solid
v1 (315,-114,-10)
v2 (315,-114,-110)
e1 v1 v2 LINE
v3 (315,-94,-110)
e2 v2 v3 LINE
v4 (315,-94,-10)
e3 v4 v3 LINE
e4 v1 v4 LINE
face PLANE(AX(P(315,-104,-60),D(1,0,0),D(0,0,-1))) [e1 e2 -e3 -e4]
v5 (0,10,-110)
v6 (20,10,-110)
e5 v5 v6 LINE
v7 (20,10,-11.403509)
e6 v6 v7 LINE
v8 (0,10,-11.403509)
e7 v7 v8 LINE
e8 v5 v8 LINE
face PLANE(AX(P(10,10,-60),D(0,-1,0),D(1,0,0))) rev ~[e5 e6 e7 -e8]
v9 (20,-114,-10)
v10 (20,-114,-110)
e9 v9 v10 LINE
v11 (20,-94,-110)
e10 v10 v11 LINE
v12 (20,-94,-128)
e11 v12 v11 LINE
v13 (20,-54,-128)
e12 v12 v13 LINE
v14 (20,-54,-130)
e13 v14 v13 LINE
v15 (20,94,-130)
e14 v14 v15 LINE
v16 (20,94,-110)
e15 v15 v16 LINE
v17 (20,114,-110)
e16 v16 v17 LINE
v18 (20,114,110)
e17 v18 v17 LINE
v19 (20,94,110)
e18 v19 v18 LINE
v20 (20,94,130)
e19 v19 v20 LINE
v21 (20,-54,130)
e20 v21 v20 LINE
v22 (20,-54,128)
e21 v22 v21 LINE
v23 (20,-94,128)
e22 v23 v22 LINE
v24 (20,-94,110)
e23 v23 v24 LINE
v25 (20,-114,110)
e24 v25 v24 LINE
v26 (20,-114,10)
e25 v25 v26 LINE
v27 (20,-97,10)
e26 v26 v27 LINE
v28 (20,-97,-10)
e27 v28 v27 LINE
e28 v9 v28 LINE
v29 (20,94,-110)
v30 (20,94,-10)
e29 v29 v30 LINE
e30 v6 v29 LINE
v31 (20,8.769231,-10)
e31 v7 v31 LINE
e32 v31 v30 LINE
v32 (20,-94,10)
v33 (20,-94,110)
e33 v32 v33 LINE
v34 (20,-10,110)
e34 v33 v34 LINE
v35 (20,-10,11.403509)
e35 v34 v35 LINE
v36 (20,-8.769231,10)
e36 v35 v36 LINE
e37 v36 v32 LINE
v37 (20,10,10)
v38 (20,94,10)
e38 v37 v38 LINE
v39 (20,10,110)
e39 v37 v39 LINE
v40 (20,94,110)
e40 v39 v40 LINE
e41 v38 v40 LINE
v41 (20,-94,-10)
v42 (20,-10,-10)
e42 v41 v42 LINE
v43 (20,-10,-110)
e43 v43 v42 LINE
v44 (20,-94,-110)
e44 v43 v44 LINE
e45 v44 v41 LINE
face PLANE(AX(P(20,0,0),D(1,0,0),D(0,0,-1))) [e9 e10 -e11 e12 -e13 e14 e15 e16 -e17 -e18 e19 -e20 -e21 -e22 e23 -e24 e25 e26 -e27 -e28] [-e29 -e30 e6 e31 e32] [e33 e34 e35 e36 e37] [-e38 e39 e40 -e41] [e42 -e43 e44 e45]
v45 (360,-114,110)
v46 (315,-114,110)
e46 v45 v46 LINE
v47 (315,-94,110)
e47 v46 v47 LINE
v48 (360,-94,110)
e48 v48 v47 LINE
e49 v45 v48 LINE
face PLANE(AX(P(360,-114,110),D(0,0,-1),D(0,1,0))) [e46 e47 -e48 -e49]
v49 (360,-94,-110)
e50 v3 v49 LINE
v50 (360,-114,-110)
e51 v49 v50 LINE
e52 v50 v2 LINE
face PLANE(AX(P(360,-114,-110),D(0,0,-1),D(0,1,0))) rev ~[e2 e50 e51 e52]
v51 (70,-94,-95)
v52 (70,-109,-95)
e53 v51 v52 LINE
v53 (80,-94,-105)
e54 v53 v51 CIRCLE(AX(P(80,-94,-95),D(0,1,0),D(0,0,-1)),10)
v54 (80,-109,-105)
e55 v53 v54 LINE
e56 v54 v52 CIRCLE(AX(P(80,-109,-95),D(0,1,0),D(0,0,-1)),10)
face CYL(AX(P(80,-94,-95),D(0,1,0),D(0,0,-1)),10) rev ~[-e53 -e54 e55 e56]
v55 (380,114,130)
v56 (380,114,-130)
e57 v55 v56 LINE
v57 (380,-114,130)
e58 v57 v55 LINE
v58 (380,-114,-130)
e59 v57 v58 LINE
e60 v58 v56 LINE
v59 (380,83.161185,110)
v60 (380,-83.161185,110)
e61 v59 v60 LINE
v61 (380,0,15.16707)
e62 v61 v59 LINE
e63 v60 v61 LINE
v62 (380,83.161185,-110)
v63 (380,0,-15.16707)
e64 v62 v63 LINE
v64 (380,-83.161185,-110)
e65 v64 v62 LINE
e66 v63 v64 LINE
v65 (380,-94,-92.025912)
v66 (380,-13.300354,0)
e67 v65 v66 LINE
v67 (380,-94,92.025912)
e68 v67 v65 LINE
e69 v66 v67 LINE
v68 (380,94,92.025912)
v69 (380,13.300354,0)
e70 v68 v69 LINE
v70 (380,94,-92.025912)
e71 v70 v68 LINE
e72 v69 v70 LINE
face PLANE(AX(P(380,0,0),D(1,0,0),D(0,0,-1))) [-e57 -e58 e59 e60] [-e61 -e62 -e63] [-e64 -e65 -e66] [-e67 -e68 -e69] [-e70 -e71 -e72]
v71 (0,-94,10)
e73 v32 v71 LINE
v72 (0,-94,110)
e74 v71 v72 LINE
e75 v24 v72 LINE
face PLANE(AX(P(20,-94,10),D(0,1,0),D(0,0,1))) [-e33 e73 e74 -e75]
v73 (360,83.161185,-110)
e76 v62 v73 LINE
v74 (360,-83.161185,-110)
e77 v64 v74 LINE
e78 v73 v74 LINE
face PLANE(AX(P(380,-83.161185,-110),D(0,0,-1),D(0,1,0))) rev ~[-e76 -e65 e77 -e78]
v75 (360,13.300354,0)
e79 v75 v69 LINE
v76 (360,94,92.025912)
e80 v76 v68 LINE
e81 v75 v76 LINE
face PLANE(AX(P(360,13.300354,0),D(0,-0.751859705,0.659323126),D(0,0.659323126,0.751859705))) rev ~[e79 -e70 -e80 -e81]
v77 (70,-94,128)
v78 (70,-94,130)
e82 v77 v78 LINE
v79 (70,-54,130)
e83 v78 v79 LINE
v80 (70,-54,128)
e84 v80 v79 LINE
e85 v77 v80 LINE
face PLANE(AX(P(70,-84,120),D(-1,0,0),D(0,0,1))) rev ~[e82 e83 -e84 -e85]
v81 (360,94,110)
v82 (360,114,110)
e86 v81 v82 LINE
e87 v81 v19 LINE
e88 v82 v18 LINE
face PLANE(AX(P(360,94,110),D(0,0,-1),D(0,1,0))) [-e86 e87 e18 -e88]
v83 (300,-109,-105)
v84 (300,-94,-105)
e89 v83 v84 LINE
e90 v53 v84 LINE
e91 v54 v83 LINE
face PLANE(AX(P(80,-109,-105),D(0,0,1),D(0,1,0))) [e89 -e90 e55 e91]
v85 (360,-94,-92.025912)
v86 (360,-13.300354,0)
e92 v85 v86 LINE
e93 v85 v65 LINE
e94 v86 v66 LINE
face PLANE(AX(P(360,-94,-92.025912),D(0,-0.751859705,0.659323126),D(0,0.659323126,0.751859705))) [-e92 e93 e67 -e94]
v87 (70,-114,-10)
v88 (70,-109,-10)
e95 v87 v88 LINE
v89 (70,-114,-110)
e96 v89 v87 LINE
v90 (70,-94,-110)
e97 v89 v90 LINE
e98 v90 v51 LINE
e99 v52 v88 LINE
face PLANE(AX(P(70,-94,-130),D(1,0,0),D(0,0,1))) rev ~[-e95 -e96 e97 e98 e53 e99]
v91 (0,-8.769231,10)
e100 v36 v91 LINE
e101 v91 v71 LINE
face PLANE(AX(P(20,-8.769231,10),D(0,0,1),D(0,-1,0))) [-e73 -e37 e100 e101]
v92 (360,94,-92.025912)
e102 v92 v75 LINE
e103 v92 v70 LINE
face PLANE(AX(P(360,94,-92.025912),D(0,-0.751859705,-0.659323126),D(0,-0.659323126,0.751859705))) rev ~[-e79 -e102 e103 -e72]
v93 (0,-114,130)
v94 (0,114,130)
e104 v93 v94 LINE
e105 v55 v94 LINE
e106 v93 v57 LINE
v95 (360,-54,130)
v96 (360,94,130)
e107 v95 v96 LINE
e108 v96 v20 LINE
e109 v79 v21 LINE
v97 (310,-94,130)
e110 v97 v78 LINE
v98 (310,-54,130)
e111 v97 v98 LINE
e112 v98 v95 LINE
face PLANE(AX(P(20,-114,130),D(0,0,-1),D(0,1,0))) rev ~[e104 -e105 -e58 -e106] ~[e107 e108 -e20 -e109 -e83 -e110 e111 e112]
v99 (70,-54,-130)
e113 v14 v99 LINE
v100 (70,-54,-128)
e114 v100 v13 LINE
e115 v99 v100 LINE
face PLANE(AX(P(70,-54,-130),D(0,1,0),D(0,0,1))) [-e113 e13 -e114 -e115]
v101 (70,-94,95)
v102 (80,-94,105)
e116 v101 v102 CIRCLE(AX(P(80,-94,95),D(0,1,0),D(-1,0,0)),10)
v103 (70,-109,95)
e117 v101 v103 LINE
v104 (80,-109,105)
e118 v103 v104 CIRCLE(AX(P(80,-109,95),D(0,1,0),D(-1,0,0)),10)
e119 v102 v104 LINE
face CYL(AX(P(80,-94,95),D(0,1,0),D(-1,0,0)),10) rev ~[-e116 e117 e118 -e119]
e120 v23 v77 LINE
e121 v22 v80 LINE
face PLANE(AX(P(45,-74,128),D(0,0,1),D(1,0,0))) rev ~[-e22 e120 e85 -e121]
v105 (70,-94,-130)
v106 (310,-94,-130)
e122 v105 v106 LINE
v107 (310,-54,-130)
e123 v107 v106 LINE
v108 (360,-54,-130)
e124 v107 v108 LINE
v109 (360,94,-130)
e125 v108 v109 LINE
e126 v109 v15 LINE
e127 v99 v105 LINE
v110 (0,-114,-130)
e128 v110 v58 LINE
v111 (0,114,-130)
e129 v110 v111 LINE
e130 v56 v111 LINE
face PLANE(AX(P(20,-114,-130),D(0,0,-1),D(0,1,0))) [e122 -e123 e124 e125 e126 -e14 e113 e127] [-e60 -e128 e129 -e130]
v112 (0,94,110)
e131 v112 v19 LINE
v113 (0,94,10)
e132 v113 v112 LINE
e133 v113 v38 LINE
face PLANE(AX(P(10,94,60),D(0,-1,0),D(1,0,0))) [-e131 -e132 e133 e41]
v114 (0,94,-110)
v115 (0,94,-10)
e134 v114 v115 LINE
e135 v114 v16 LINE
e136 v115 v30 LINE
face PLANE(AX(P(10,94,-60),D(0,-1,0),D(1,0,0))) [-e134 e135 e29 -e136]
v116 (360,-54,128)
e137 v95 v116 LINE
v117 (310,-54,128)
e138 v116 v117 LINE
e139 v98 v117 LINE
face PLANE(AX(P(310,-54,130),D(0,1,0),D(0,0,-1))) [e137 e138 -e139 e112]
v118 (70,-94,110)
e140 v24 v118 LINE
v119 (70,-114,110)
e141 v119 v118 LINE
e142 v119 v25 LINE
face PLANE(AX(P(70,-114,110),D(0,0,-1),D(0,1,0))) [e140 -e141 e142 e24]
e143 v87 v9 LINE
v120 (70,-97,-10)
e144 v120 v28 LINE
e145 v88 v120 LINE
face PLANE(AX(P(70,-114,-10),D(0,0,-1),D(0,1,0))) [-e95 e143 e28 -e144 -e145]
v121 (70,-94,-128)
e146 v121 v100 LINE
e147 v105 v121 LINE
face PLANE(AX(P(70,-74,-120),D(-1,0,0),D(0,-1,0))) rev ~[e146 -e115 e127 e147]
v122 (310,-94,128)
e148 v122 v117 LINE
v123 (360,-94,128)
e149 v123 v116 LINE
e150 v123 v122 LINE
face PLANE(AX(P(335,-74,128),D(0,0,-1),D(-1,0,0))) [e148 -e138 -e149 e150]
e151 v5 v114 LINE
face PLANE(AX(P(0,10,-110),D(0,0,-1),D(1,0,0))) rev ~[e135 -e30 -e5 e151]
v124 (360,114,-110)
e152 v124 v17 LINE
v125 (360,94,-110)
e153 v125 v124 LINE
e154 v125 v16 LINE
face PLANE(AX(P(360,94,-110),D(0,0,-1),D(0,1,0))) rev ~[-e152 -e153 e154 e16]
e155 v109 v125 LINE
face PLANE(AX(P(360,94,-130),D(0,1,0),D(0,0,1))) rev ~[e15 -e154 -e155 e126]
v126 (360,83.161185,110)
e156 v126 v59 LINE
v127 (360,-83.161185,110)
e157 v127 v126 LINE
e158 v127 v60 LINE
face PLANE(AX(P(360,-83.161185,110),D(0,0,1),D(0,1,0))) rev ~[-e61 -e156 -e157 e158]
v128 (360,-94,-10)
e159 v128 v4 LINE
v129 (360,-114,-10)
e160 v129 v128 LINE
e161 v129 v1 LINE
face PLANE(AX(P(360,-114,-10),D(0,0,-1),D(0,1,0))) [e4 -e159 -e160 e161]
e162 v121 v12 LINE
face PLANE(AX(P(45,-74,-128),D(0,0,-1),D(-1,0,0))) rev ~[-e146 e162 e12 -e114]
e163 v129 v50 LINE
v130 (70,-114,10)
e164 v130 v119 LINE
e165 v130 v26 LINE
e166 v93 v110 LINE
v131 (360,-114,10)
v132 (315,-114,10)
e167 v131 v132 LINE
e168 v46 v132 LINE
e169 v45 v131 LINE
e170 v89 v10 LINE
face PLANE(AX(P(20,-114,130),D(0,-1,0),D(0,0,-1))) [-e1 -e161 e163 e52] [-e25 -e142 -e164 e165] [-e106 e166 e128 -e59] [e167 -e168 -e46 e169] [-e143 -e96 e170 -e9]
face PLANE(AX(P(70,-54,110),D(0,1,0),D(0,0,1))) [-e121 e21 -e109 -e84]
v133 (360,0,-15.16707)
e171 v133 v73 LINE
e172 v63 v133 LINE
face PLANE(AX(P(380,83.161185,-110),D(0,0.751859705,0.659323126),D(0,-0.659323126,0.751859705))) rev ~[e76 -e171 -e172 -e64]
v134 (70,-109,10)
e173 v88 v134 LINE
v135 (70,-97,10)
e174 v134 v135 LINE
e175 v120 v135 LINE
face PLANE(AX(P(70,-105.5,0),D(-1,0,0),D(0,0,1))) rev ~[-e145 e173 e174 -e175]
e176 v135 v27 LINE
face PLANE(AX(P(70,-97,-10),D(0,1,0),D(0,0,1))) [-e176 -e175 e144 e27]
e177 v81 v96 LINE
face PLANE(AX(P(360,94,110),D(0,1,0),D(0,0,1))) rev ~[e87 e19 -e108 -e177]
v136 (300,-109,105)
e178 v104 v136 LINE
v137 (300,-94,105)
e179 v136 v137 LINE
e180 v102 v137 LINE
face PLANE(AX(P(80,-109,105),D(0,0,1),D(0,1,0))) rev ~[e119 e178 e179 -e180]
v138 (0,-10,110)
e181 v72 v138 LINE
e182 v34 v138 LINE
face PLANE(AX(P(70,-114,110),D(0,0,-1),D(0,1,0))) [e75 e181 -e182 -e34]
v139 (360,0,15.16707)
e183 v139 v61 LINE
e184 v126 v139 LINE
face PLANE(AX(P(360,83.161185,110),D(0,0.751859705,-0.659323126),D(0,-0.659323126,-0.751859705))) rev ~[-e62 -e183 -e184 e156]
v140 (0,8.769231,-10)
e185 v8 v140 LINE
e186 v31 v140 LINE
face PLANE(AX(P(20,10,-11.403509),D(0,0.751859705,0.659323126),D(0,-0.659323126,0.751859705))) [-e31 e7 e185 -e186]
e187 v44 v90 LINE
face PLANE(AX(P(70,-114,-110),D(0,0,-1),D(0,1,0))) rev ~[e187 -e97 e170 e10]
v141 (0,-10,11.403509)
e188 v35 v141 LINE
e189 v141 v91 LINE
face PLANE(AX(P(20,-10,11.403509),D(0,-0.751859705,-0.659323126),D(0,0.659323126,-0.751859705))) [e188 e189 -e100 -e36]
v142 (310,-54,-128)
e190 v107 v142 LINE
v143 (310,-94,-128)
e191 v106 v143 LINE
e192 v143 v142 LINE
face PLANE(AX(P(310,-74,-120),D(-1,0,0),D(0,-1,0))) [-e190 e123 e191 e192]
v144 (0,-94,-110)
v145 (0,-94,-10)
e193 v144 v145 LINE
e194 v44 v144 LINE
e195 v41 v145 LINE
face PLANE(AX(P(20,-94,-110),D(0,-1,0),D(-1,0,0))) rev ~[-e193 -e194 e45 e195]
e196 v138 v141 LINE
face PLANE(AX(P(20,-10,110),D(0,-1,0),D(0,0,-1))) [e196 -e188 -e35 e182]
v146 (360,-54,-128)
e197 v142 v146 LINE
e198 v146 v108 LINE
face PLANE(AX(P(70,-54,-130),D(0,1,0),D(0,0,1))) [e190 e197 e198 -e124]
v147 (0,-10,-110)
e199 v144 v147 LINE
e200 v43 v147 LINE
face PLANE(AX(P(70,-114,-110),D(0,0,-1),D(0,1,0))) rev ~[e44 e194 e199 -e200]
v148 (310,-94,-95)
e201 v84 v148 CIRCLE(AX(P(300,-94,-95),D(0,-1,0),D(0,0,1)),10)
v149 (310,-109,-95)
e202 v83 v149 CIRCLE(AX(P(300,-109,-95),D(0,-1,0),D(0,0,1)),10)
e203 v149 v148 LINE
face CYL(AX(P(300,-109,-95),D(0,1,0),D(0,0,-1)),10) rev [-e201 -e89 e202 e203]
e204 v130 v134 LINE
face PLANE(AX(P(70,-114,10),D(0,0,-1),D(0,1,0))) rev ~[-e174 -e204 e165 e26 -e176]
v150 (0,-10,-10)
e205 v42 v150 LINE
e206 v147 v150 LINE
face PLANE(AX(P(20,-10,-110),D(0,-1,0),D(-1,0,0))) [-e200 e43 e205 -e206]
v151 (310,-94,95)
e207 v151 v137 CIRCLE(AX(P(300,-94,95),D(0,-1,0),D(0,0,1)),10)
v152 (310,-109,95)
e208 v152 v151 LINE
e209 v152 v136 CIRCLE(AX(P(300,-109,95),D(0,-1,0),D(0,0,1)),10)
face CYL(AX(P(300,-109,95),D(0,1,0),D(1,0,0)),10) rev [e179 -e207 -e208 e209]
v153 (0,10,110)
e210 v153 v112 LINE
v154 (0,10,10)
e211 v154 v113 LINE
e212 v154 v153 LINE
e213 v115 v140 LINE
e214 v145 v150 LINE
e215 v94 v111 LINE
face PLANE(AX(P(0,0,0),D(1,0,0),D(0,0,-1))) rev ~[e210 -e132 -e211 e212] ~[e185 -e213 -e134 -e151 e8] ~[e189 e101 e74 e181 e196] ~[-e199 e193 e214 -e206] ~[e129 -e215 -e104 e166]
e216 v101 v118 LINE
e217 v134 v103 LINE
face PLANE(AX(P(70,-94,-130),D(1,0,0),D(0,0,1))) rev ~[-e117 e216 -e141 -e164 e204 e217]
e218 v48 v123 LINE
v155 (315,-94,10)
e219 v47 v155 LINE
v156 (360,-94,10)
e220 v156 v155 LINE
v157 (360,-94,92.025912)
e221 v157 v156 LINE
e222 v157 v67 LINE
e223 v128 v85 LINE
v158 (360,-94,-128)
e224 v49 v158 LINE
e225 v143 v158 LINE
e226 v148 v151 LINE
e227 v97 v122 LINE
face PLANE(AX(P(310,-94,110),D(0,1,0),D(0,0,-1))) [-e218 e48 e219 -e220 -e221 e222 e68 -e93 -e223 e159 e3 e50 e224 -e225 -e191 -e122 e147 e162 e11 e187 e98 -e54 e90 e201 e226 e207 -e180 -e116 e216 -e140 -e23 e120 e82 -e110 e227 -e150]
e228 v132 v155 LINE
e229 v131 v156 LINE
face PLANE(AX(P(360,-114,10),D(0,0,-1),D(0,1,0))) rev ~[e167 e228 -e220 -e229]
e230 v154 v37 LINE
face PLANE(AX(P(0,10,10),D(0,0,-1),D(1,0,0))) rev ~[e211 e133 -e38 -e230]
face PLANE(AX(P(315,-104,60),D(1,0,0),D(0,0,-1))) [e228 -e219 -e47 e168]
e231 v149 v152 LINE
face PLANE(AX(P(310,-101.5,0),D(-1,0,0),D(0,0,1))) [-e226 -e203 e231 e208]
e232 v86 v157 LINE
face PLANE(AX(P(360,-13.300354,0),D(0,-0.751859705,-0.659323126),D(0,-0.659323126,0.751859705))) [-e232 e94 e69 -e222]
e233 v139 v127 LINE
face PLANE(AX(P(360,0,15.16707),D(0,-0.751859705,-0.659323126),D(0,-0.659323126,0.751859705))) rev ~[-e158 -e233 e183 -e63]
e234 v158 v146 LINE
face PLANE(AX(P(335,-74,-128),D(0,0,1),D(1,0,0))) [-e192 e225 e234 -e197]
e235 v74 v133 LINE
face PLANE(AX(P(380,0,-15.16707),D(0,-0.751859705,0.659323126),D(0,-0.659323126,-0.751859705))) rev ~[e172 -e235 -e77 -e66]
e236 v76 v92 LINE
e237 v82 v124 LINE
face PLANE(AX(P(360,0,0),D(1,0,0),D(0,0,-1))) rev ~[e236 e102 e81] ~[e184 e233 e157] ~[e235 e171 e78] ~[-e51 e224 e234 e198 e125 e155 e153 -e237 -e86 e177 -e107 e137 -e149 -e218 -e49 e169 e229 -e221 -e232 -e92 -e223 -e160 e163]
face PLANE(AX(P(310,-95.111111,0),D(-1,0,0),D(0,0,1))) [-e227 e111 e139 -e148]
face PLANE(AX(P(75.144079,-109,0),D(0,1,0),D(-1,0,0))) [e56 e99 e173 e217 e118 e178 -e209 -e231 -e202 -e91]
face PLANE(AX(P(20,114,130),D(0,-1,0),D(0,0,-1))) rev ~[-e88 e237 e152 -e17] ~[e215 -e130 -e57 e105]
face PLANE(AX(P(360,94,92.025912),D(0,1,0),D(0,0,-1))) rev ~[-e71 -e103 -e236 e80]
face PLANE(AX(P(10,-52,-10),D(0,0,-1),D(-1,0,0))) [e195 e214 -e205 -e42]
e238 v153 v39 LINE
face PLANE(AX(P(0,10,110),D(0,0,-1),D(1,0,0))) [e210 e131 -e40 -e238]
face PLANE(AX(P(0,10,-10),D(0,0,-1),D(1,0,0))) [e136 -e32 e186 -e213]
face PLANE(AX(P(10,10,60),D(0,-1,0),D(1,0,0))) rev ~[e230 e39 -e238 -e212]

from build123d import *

# Parameters (mm, degrees)
SKETCH1_W            = 20
SKETCH1_H            = 260
BOSS_EXTRUDE1_DEPTH  = 10
CUT_EXTRUDE1_DEPTH   = 15
SKETCH3_W            = 10
SKETCH3_H            = 20
BOSS_EXTRUDE2_DEPTH  = 40
BOSS_EXTRUDE3_DEPTH  = 230
BOSS_EXTRUDE4_DEPTH  = 50
SKETCH6_W            = 260
SKETCH6_H            = 228
BOSS_EXTRUDE5_DEPTH  = 20
SKETCH7_W            = 20
SKETCH7_H            = 17
BOSS_EXTRUDE6_DEPTH  = 50
SKETCH8_W            = 20
SKETCH8_H            = 60
BOSS_EXTRUDE7_DEPTH  = 50
SKETCH9_W            = 20
SKETCH9_H            = 60
BOSS_EXTRUDE8_DEPTH  = 50
SKETCH10_W           = 20
SKETCH10_H           = 20
BOSS_EXTRUDE9_DEPTH  = 340
SKETCH11_W           = 20
SKETCH11_H           = 20
BOSS_EXTRUDE10_DEPTH = 340
SKETCH12_W           = 260
SKETCH12_H           = 228
BOSS_EXTRUDE11_DEPTH = 20
SKETCH13_W           = 40
SKETCH13_H           = 20
CUT_EXTRUDE2_DEPTH   = 240
SKETCH14_W           = 210
SKETCH14_H           = 15
CUT_EXTRUDE3_DEPTH   = 230
SKETCH15_W           = 100
SKETCH15_H           = 20
CUT_EXTRUDE4_DEPTH   = 45
SKETCH16_W           = 20
SKETCH16_H           = 100
CUT_EXTRUDE5_DEPTH   = 84
SKETCH17_W           = 20
SKETCH17_H           = 100
CUT_EXTRUDE6_DEPTH   = 84
SKETCH18_W           = 20
SKETCH18_H           = 84
CUT_EXTRUDE7_DEPTH   = 100
SKETCH19_W           = 100
SKETCH19_H           = 20
CUT_EXTRUDE8_DEPTH   = 45
CUT_EXTRUDE9_REACH   = 475.244
SKETCH20_W           = 50
SKETCH20_H           = 40
SKETCH21_W           = 50
SKETCH21_H           = 40
CUT_EXTRUDE10_DEPTH  = 18
CUT_EXTRUDE11_REACH  = 475.244
SKETCH22_W           = 50
SKETCH22_H           = 40
SKETCH23_W           = 50
SKETCH23_H           = 40
CUT_EXTRUDE12_DEPTH  = 18
CUT_EXTRUDE13_DEPTH  = 400.369503092
CUT_EXTRUDE14_DEPTH  = 400.369503092
CUT_EXTRUDE15_REACH  = 419.488
FILLET1_R            = 10


with BuildPart() as part:
    # Sketch1 → Boss-Extrude1 (new body)
    with BuildSketch(Plane(origin=(70, 0, 0), x_dir=(0, -1, 0), z_dir=(-1, 0, 0))):
        with Locations((104, 0)):
            Rectangle(SKETCH1_W, SKETCH1_H)
    extrude(amount=-BOSS_EXTRUDE1_DEPTH)

    # Sketch2 → Cut-Extrude1 (cut)
    with BuildSketch(Plane(origin=(0, -94, 0), x_dir=(-1, 0, 0), z_dir=(0, 1, 0))):
        with BuildLine():
            Line((-80, 105), (-80, -105))
            ThreePointArc((-80, -105), (-72.928932188, -102.071067812), (-70, -95))
            Line((-70, -95), (-70, 95))
            ThreePointArc((-70, 95), (-72.928932188, 102.071067812), (-80, 105))
        make_face()
    extrude(amount=-CUT_EXTRUDE1_DEPTH, mode=Mode.SUBTRACT)

    # Sketch3 → Boss-Extrude2 (add)
    with BuildSketch(Plane(origin=(0, -94, 0), x_dir=(-1, 0, 0), z_dir=(0, 1, 0))):
        with Locations((-75, -120)):
            Rectangle(SKETCH3_W, SKETCH3_H)
    extrude(amount=BOSS_EXTRUDE2_DEPTH)

    # Sketch4 → Boss-Extrude3 (add)
    with BuildSketch(Plane(origin=(80, 0, 0), x_dir=(0, 0, -1), z_dir=(1, 0, 0))):
        Polygon((-130, -114), (-130, -94), (110, -94), (110, -54), (130, -54), (130, -114), align=None)
    extrude(amount=BOSS_EXTRUDE3_DEPTH)

    # Sketch5 → Boss-Extrude4 (add)
    with BuildSketch(Plane(origin=(310, 0, 0), x_dir=(0, 0, -1), z_dir=(1, 0, 0))):
        Polygon((110, -94), (110, -54), (130, -54), (130, -114), (-130, -114), (-130, -54), (-110, -54), (-110, -94), align=None)
    extrude(amount=BOSS_EXTRUDE4_DEPTH)

    # Sketch6 → Boss-Extrude5 (add)
    with BuildSketch(Plane(origin=(360, 0, 0), x_dir=(0, 0, -1), z_dir=(1, 0, 0))):
        Rectangle(SKETCH6_W, SKETCH6_H)
        Polygon((92.025912459, -94), (0, -13.30035369), (-92.025912459, -94), align=None, mode=Mode.SUBTRACT)
    extrude(amount=BOSS_EXTRUDE5_DEPTH)

    # Sketch7 → Boss-Extrude6 (add)
    with BuildSketch(Plane.ZY.offset(-70)):
        with Locations((0, -105.5)):
            Rectangle(SKETCH7_W, SKETCH7_H)
    extrude(amount=BOSS_EXTRUDE6_DEPTH)

    # Sketch8 → Boss-Extrude7 (add)
    with BuildSketch(Plane.ZY.offset(-70)):
        with Locations((120, -84)):
            Rectangle(SKETCH8_W, SKETCH8_H)
    extrude(amount=BOSS_EXTRUDE7_DEPTH)

    # Sketch9 → Boss-Extrude8 (add)
    with BuildSketch(Plane.ZY.offset(-70)):
        with Locations((-120, -84)):
            Rectangle(SKETCH9_W, SKETCH9_H)
    extrude(amount=BOSS_EXTRUDE8_DEPTH)

    # Sketch10 → Boss-Extrude9 (add)
    with BuildSketch(Plane.ZY.offset(-360)):
        with Locations((-120, 104)):
            Rectangle(SKETCH10_W, SKETCH10_H)
    extrude(amount=BOSS_EXTRUDE9_DEPTH)

    # Sketch11 → Boss-Extrude10 (add)
    with BuildSketch(Plane.ZY.offset(-360)):
        with Locations((120, 104)):
            Rectangle(SKETCH11_W, SKETCH11_H)
    extrude(amount=BOSS_EXTRUDE10_DEPTH)

    # Sketch12 → Boss-Extrude11 (add)
    with BuildSketch(Plane(origin=(20, 0, 0), x_dir=(0, 0, -1), z_dir=(1, 0, 0))):
        Rectangle(SKETCH12_W, SKETCH12_H)
        Polygon((10, 8.769230769), (10, 10), (11.403508772, 10), align=None, mode=Mode.SUBTRACT)
        Polygon((-10, -94), (-110, -94), (-110, -10), (-11.403508772, -10), (-10, -8.769230769), align=None, mode=Mode.SUBTRACT)
    extrude(amount=-BOSS_EXTRUDE11_DEPTH)

    # Sketch13 → Cut-Extrude2 (cut)
    with BuildSketch(Plane(origin=(70, 0, 0), x_dir=(0, -1, 0), z_dir=(-1, 0, 0))):
        with Locations((74, -120)):
            Rectangle(SKETCH13_W, SKETCH13_H)
    extrude(amount=-CUT_EXTRUDE2_DEPTH, mode=Mode.SUBTRACT)

    # Sketch14 → Cut-Extrude3 (cut)
    with BuildSketch(Plane.ZY.offset(-80)):
        with Locations((0, -101.5)):
            Rectangle(SKETCH14_W, SKETCH14_H)
    extrude(amount=-CUT_EXTRUDE3_DEPTH, mode=Mode.SUBTRACT)

    # Sketch15 → Cut-Extrude4 (cut)
    with BuildSketch(Plane(origin=(360, 0, 0), x_dir=(0, 0, -1), z_dir=(1, 0, 0))):
        with Locations((60, -104)):
            Rectangle(SKETCH15_W, SKETCH15_H)
    extrude(amount=-CUT_EXTRUDE4_DEPTH, mode=Mode.SUBTRACT)

    # Sketch16 → Cut-Extrude5 (cut)
    with BuildSketch(Plane.XZ.offset(-10)):
        with Locations((10, 60)):
            Rectangle(SKETCH16_W, SKETCH16_H)
    extrude(amount=-CUT_EXTRUDE5_DEPTH, mode=Mode.SUBTRACT)

    # Sketch17 → Cut-Extrude6 (cut)
    with BuildSketch(Plane.XZ.offset(-10)):
        with Locations((10, -60)):
            Rectangle(SKETCH17_W, SKETCH17_H)
    extrude(amount=-CUT_EXTRUDE6_DEPTH, mode=Mode.SUBTRACT)

    # Sketch18 → Cut-Extrude7 (cut)
    with BuildSketch(Plane(origin=(0, 0, -110), x_dir=(-1, 0, 0), z_dir=(0, 0, -1))):
        with Locations((-10, -52)):
            Rectangle(SKETCH18_W, SKETCH18_H)
    extrude(amount=-CUT_EXTRUDE7_DEPTH, mode=Mode.SUBTRACT)

    # Sketch19 → Cut-Extrude8 (cut)
    with BuildSketch(Plane(origin=(360, 0, 0), x_dir=(0, 0, -1), z_dir=(1, 0, 0))):
        with Locations((-60, -104)):
            Rectangle(SKETCH19_W, SKETCH19_H)
    extrude(amount=-CUT_EXTRUDE8_DEPTH, mode=Mode.SUBTRACT)

    # Sketch20 → Cut-Extrude9 (cut, up to next)
    with BuildSketch(Plane(origin=(0, 0, -128), x_dir=(-1, 0, 0), z_dir=(0, 0, -1)), mode=Mode.PRIVATE) as cut_extrude9_sk1:
        with Locations((-45, -74)):
            Rectangle(SKETCH20_W, SKETCH20_H)
    cut_extrude9_tool1 = extrude(cut_extrude9_sk1.sketch, amount=-CUT_EXTRUDE9_REACH, mode=Mode.PRIVATE) & part.part
    add(cut_extrude9_tool1.solids().sort_by_distance((45, -74, -128))[0], mode=Mode.SUBTRACT)

    # Sketch21 → Cut-Extrude10 (cut)
    with BuildSketch(Plane.XY.offset(-110)):
        with Locations((335, -74)):
            Rectangle(SKETCH21_W, SKETCH21_H)
    extrude(amount=-CUT_EXTRUDE10_DEPTH, mode=Mode.SUBTRACT)

    # Sketch22 → Cut-Extrude11 (cut, up to next)
    with BuildSketch(Plane.XY.offset(128), mode=Mode.PRIVATE) as cut_extrude11_sk1:
        with Locations((45, -74)):
            Rectangle(SKETCH22_W, SKETCH22_H)
    cut_extrude11_tool1 = extrude(cut_extrude11_sk1.sketch, amount=-CUT_EXTRUDE11_REACH, mode=Mode.PRIVATE) & part.part
    add(cut_extrude11_tool1.solids().sort_by_distance((45, -74, 128))[0], mode=Mode.SUBTRACT)

    # Sketch23 → Cut-Extrude12 (cut)
    with BuildSketch(Plane(origin=(0, 0, 110), x_dir=(-1, 0, 0), z_dir=(0, 0, -1))):
        with Locations((-335, -74)):
            Rectangle(SKETCH23_W, SKETCH23_H)
    extrude(amount=-CUT_EXTRUDE12_DEPTH, mode=Mode.SUBTRACT)

    # Sketch24 → Cut-Extrude13 (cut, through all)
    with BuildSketch(Plane.ZY.offset(-360)):
        Polygon((-92.025912459, 94), (0, 13.30035369), (92.025912459, 94), align=None)
    extrude(amount=-CUT_EXTRUDE13_DEPTH, mode=Mode.SUBTRACT)

    # Sketch25 → Cut-Extrude14 (cut, through all)
    with BuildSketch(Plane.ZY.offset(-360)):
        Polygon((110, 83.161184771), (15.167069998, 0), (110, -83.161184771), align=None)
    extrude(amount=-CUT_EXTRUDE14_DEPTH, mode=Mode.SUBTRACT)

    # Sketch26 → Cut-Extrude15 (cut, up to next)
    with BuildSketch(Plane(origin=(380, 0, 0), x_dir=(0, 0, -1), z_dir=(1, 0, 0)), mode=Mode.PRIVATE) as cut_extrude15_sk1:
        Polygon((15.167069998, 0), (110, -83.161184771), (110, 83.161184771), align=None)
    cut_extrude15_tool1 = extrude(cut_extrude15_sk1.sketch, amount=-CUT_EXTRUDE15_REACH, mode=Mode.PRIVATE) & part.part
    add(cut_extrude15_tool1.solids().sort_by_distance((380, 0, -78.389023))[0], mode=Mode.SUBTRACT)

    # Fillet1
    fillet1_edges = [part.edges().sort_by_distance(p)[0] for p in [
        (310, -101.5, -105),
        (310, -101.5, 105),
    ]]
    fillet(fillet1_edges, radius=FILLET1_R)


solid = part.part
